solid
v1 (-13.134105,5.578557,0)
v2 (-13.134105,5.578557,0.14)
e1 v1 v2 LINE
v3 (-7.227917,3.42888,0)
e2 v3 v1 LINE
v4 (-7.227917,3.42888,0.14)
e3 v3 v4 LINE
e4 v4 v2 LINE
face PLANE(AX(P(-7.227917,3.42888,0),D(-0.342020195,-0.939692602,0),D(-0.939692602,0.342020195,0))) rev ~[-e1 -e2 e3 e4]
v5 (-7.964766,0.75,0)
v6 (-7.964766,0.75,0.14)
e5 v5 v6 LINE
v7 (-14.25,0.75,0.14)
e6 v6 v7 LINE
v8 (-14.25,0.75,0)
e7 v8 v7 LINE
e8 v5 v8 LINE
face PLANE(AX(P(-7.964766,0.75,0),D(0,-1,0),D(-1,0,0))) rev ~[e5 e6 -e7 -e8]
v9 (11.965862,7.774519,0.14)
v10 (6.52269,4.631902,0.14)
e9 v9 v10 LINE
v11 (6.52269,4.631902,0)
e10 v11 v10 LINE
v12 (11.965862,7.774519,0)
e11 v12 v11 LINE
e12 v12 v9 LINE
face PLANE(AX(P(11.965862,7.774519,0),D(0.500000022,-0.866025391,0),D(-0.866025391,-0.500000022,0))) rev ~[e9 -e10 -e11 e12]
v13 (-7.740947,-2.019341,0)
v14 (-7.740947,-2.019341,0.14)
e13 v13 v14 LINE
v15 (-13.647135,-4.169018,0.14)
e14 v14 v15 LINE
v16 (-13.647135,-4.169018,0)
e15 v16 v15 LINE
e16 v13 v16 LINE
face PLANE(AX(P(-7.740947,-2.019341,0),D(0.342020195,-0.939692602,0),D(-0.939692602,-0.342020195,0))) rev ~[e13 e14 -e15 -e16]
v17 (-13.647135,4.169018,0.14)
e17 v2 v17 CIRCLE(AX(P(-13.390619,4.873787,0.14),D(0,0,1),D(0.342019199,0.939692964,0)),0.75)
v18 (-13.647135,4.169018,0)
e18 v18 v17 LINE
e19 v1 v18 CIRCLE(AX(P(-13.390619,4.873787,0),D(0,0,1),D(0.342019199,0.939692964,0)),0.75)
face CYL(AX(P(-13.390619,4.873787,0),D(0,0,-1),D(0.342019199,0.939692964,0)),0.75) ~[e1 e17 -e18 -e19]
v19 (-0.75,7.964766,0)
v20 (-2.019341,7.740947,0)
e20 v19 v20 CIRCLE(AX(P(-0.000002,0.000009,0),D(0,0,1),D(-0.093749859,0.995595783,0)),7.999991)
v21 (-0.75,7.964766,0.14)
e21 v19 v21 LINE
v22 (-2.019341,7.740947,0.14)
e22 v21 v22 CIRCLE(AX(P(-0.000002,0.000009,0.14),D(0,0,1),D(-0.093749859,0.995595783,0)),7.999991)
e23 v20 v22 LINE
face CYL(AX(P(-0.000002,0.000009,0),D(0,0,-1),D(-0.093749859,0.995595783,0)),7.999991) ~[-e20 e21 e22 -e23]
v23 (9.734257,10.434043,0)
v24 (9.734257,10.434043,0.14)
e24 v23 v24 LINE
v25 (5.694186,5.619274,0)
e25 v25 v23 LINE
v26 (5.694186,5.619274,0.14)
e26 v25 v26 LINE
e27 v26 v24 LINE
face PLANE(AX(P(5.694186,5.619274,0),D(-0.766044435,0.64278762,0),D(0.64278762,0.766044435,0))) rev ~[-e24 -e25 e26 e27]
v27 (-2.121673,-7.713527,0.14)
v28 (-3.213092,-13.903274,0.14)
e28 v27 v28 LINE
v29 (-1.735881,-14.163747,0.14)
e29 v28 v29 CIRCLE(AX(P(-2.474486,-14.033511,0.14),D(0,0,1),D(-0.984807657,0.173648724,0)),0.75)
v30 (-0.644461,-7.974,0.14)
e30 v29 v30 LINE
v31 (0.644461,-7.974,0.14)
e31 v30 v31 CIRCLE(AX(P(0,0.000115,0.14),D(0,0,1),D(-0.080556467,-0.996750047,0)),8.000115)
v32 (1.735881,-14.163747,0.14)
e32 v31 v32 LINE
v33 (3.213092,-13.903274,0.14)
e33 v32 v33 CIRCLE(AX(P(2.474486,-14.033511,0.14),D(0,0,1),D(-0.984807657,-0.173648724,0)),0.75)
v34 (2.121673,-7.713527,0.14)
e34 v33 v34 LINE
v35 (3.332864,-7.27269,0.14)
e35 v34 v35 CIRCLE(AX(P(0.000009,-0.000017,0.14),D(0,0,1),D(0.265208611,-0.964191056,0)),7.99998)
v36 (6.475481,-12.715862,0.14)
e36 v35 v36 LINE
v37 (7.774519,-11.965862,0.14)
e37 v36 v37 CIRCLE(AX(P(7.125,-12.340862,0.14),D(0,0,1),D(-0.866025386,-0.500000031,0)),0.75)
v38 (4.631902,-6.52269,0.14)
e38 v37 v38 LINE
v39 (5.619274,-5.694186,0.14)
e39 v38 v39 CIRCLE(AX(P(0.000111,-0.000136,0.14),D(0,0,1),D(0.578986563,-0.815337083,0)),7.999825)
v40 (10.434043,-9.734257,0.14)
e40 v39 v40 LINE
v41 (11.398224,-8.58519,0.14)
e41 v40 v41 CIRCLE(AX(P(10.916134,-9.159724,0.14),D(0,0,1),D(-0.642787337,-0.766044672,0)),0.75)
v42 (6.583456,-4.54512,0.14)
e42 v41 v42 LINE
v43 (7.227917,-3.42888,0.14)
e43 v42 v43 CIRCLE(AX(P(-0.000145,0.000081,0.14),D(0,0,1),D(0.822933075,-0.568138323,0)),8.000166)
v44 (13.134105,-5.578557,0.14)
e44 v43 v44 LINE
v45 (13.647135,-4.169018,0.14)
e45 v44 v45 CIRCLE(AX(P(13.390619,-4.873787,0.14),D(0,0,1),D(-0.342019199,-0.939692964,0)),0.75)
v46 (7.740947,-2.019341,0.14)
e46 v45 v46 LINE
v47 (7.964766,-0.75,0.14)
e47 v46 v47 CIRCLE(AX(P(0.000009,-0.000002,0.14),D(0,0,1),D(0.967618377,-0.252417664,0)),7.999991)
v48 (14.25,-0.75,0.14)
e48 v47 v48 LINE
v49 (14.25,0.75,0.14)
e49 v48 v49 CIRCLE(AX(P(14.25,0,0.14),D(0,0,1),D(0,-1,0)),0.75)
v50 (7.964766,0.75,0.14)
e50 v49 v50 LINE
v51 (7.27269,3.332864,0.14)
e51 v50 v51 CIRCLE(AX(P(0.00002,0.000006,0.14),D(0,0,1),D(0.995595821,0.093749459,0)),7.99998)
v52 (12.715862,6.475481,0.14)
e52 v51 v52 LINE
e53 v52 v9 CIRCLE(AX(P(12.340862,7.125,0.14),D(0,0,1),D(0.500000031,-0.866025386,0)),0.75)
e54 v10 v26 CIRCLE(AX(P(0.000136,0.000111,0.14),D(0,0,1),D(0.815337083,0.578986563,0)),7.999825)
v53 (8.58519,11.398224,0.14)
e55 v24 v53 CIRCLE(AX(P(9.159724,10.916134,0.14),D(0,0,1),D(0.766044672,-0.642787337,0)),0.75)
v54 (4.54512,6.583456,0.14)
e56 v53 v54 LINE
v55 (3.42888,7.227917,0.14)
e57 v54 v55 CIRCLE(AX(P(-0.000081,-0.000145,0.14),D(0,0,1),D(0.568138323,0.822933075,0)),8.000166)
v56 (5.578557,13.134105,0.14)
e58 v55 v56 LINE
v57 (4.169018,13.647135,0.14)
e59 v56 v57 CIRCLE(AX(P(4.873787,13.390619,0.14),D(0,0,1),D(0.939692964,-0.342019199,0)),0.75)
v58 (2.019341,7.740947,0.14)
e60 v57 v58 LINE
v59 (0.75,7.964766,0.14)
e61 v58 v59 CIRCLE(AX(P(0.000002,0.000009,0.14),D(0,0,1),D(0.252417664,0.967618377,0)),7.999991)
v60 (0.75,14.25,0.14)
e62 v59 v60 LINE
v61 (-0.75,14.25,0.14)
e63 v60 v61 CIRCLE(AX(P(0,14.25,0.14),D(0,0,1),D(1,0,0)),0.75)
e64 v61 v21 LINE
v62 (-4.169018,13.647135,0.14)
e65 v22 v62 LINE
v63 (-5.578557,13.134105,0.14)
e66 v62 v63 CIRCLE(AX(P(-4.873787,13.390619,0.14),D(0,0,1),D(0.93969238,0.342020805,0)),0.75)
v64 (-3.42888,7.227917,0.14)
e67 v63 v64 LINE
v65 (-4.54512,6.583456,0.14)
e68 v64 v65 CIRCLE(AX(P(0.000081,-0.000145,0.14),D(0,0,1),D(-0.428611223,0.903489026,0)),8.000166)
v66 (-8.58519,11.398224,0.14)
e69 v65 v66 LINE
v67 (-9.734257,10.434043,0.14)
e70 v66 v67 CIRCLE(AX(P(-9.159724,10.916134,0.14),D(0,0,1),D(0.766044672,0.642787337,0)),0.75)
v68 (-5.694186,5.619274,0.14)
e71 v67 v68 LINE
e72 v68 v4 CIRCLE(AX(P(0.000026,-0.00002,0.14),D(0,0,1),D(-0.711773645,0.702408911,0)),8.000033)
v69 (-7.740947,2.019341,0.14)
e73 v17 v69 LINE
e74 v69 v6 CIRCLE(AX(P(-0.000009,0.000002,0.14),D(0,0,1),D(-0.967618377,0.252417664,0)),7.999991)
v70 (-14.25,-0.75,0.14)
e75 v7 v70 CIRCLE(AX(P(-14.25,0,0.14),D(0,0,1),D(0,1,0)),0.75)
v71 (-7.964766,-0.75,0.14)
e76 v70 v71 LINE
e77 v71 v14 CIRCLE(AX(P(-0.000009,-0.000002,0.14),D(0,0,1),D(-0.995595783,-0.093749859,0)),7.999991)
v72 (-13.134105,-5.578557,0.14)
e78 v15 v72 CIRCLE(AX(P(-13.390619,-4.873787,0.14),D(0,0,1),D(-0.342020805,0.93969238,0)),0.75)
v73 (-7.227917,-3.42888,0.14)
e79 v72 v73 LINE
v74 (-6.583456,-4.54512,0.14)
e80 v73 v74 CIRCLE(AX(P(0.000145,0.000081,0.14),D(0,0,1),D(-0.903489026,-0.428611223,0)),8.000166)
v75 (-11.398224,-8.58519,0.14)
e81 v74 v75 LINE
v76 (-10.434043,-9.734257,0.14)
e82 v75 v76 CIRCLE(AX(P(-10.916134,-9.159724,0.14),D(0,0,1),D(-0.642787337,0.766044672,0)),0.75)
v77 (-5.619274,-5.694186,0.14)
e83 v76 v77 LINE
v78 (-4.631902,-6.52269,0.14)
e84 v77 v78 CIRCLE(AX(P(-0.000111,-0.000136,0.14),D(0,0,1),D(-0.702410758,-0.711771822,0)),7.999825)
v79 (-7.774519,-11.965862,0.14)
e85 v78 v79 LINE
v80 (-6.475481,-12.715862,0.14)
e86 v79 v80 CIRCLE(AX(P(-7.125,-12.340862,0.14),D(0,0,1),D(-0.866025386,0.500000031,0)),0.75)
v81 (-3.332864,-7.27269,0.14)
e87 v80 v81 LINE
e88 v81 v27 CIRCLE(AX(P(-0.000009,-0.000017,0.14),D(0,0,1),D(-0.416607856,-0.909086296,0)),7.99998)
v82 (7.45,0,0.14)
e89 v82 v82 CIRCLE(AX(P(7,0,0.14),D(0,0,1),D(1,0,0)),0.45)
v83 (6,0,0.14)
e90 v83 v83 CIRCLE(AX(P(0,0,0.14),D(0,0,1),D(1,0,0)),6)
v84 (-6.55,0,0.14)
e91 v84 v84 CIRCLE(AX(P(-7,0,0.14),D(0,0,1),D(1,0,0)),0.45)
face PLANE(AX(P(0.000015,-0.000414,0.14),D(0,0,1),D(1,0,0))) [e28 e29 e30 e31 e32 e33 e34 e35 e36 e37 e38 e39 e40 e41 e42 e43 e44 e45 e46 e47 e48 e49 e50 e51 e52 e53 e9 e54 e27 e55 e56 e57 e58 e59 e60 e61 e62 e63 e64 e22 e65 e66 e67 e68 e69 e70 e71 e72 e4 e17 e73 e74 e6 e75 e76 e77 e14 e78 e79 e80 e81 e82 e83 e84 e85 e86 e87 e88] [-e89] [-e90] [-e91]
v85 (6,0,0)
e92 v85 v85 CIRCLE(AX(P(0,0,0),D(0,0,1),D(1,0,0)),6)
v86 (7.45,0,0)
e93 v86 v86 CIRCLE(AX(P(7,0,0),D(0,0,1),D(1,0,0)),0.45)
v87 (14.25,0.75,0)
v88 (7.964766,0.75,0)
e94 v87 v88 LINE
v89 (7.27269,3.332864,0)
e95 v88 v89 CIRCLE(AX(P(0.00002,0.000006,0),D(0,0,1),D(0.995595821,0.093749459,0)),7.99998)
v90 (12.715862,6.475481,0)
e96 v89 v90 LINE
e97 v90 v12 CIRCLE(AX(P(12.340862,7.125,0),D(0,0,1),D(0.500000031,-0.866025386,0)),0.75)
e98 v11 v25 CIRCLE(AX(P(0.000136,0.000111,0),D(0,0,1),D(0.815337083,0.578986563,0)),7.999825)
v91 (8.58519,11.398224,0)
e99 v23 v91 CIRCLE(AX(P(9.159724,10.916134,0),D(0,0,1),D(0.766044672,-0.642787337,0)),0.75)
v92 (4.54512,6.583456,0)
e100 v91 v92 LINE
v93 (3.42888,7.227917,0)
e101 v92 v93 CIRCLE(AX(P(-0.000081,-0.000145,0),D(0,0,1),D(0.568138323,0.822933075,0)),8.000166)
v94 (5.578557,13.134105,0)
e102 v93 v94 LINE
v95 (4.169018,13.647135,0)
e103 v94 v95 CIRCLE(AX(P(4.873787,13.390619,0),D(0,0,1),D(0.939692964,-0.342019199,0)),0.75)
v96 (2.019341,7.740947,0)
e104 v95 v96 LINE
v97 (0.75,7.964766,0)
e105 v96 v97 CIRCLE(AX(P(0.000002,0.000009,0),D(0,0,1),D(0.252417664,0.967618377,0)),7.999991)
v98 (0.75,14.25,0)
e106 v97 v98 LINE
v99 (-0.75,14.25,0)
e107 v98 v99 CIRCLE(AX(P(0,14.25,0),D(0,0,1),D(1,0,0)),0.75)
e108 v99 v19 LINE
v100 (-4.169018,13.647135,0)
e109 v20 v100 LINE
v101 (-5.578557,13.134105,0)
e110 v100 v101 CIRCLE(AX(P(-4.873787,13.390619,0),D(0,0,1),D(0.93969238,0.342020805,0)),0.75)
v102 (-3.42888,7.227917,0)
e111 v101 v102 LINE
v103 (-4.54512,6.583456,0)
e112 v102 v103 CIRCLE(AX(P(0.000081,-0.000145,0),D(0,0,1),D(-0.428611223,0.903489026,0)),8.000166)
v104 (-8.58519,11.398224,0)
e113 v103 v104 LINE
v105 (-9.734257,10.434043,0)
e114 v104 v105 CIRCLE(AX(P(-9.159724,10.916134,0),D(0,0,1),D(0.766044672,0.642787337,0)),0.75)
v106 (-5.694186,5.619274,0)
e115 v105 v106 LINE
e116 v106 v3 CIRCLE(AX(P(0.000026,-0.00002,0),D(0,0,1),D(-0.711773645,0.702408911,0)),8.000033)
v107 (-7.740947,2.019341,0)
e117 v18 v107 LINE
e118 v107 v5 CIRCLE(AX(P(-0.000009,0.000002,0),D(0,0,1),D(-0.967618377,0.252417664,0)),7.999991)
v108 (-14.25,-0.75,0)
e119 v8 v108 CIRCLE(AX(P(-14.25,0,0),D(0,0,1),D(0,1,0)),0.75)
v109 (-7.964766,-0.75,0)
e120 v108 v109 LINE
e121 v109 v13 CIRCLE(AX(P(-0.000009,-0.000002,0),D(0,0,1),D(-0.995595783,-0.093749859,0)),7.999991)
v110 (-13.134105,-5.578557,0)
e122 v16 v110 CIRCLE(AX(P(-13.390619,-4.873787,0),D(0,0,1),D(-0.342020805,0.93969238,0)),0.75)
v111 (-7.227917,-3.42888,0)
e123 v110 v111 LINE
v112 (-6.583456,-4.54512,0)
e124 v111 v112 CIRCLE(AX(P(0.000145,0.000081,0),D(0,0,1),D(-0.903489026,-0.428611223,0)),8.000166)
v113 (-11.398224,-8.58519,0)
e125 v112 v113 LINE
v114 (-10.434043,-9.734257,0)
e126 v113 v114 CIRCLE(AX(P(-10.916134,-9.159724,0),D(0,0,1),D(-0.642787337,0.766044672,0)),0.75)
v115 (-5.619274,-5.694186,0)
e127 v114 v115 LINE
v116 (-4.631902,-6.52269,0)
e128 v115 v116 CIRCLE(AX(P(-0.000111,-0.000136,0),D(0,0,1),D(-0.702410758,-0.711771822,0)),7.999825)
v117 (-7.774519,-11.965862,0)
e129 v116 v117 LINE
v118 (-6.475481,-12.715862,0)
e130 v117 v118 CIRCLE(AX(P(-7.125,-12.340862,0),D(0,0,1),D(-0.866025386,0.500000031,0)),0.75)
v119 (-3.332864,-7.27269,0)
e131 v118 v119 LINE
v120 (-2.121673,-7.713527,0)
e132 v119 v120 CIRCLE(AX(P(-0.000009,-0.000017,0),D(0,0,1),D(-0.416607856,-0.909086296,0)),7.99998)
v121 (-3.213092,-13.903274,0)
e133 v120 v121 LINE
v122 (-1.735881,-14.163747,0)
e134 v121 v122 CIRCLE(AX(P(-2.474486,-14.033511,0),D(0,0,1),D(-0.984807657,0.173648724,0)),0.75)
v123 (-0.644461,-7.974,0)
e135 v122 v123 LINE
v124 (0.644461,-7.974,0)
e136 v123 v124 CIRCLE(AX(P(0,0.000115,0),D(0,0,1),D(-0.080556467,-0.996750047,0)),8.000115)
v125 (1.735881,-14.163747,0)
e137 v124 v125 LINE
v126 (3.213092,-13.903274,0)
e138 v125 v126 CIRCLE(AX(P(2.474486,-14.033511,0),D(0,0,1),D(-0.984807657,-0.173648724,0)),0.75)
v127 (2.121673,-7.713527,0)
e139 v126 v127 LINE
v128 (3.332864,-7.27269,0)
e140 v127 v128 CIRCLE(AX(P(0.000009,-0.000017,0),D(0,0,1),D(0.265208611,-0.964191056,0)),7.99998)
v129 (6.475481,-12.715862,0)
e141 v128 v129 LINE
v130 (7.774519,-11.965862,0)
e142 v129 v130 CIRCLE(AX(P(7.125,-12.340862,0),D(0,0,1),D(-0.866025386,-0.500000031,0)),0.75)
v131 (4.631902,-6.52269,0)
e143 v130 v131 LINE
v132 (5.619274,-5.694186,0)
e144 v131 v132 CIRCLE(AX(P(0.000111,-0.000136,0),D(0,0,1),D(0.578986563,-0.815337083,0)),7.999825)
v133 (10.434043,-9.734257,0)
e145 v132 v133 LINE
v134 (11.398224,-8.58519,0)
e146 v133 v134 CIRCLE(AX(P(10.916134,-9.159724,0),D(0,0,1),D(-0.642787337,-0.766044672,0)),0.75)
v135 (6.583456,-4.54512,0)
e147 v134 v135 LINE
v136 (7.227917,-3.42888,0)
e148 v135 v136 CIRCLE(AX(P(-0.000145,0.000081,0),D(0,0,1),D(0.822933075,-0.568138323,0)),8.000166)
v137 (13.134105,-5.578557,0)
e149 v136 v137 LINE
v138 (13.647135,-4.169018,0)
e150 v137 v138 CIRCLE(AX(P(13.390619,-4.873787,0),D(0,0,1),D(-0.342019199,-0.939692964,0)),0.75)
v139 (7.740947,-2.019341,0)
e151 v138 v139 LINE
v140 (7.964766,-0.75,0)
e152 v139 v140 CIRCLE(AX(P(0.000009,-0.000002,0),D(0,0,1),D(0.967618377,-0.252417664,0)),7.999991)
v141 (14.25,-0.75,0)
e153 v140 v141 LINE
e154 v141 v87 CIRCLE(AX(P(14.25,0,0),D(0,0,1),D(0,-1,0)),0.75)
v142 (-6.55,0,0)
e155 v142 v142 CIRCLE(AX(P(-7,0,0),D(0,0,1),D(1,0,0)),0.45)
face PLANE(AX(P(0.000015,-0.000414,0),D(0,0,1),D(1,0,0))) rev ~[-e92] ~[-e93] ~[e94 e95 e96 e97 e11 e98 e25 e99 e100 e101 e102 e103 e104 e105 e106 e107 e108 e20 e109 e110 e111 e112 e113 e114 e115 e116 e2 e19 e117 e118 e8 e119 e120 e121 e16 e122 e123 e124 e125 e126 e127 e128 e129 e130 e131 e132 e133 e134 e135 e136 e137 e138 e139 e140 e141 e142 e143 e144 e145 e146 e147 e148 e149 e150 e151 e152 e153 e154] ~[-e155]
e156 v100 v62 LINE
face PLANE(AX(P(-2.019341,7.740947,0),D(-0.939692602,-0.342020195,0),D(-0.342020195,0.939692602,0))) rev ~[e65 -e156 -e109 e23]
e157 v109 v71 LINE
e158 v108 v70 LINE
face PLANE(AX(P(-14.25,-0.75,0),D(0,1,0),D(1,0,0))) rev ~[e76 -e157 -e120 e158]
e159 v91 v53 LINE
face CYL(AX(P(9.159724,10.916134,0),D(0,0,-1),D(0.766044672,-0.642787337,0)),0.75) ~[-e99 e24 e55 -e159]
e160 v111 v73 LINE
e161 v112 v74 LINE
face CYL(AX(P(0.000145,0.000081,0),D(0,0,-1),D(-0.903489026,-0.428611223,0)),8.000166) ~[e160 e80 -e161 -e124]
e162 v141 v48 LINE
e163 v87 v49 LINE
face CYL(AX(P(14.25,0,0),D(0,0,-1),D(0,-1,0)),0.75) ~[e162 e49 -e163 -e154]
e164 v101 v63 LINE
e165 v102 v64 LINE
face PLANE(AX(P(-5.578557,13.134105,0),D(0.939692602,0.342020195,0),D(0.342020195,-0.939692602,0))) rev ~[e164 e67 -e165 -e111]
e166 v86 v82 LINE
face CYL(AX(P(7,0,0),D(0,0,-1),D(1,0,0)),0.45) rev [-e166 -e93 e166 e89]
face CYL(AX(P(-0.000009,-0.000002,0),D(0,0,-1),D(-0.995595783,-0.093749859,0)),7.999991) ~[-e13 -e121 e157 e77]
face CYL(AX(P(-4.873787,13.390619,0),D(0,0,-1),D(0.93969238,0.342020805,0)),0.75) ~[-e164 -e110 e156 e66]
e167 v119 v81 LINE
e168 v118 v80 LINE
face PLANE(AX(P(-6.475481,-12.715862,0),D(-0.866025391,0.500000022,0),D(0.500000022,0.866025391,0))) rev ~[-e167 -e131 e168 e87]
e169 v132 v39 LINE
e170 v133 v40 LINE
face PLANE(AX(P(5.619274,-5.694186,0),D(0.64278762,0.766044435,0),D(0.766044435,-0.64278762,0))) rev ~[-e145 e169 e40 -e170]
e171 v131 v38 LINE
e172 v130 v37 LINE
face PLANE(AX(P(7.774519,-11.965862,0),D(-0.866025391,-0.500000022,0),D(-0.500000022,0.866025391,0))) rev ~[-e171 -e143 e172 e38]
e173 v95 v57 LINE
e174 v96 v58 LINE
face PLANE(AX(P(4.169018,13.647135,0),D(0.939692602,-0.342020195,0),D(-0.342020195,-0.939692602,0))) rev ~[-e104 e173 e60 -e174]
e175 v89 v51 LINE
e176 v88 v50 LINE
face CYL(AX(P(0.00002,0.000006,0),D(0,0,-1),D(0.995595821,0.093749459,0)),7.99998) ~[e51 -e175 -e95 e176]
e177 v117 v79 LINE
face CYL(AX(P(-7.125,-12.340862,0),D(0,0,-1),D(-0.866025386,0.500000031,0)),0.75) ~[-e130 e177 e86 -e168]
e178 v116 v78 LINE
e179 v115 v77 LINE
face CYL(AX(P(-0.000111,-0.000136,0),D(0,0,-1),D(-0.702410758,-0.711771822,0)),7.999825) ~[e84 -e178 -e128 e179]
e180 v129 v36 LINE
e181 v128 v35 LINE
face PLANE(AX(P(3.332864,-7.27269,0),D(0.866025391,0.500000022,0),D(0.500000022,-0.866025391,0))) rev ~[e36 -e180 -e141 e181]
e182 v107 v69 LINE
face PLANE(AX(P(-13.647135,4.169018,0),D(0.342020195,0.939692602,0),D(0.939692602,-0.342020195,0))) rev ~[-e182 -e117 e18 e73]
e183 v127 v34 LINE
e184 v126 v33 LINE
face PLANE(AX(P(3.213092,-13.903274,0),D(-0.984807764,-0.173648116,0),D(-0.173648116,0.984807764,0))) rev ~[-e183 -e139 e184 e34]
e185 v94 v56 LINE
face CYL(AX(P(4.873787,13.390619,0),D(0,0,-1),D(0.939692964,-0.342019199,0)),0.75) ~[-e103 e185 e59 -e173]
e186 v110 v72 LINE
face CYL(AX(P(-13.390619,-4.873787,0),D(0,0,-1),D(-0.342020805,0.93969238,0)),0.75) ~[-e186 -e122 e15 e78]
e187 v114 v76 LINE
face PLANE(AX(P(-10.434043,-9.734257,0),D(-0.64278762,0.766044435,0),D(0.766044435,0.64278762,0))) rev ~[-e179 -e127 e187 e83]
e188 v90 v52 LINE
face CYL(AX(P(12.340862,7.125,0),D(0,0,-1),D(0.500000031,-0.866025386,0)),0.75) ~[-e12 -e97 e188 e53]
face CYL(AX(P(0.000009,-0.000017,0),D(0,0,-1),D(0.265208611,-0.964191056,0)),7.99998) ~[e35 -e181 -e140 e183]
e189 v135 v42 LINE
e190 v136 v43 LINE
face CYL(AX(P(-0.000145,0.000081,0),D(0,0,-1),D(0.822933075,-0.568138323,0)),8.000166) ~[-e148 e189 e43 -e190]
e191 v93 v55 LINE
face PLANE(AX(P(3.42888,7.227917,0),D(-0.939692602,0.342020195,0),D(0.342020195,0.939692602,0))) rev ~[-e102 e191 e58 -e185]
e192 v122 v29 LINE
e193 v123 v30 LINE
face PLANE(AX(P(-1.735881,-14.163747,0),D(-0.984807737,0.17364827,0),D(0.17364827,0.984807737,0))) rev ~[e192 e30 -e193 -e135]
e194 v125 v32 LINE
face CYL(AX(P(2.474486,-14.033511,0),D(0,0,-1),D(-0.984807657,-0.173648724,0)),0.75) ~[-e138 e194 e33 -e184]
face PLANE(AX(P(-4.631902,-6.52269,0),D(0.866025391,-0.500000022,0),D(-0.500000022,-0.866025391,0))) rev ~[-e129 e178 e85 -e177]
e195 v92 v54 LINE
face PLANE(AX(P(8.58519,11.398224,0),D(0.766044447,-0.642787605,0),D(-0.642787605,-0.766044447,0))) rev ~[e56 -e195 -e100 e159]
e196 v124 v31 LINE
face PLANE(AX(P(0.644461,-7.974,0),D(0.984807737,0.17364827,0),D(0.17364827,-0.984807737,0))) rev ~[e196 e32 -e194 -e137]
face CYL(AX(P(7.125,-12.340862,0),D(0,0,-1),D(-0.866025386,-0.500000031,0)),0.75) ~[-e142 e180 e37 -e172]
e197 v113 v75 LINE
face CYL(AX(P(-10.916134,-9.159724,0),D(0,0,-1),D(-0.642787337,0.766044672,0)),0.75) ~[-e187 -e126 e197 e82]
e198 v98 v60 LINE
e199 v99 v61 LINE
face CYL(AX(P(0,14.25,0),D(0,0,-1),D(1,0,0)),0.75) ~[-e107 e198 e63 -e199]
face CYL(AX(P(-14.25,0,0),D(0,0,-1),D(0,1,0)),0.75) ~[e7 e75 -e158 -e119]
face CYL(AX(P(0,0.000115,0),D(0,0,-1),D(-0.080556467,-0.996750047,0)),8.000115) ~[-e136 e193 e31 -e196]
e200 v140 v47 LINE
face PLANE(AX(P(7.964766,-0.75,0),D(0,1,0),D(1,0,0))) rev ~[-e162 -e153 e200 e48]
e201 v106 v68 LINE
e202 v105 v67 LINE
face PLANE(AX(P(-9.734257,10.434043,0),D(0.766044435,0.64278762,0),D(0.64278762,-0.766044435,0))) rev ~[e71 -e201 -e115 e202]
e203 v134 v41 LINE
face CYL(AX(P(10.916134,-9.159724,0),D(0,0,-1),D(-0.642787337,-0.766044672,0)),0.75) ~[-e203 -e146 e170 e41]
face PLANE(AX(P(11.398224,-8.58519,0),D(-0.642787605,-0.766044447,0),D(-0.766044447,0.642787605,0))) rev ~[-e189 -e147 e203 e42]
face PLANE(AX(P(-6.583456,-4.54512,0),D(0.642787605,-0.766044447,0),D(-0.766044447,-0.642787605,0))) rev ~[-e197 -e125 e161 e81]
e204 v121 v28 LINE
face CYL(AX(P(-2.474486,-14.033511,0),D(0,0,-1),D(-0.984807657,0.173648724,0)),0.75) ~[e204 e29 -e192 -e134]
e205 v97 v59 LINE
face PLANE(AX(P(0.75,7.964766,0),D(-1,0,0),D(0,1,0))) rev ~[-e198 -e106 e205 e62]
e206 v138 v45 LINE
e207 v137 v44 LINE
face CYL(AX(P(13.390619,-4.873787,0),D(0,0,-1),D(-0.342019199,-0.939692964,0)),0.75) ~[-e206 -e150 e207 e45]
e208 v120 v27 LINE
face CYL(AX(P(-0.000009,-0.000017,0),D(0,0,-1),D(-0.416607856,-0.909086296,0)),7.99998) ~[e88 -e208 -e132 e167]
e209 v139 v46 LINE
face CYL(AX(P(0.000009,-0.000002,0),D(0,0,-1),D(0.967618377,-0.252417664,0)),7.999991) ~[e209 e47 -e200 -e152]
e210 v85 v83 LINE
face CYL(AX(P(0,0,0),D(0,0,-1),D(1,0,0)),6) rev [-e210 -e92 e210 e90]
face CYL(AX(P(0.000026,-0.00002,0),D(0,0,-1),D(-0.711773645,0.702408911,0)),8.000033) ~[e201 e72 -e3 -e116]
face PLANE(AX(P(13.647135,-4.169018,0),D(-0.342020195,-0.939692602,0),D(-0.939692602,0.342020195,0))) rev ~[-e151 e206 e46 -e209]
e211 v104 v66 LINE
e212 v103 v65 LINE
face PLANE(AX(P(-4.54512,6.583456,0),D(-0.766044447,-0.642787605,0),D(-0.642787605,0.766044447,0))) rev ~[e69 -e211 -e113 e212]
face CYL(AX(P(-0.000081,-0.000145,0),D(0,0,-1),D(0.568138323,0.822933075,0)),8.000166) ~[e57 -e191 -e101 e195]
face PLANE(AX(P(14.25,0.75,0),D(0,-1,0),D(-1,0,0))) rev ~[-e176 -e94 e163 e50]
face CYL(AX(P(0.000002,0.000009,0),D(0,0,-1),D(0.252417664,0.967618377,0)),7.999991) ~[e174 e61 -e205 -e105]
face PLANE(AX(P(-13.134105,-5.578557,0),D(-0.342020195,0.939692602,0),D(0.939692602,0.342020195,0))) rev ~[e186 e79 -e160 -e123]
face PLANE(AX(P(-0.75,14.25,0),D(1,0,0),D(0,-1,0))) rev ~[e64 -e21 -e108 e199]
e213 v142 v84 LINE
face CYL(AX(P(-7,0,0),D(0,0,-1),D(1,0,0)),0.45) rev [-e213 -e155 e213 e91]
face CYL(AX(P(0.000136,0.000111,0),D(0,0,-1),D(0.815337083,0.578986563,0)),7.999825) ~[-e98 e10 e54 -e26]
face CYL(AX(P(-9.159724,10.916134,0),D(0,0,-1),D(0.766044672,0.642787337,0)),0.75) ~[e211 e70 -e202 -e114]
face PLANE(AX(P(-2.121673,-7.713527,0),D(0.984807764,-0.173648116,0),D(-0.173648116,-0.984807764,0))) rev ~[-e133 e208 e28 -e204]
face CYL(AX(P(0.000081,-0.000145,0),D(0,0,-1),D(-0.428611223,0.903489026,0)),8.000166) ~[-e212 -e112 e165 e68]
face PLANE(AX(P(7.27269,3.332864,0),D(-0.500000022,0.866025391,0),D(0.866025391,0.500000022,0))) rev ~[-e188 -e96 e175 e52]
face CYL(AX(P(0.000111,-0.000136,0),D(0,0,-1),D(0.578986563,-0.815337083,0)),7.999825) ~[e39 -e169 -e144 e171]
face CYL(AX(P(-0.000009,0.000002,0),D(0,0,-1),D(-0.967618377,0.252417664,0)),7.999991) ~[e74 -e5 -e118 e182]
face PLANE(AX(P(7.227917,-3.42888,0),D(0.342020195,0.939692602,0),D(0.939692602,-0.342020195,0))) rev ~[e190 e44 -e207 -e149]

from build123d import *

# Parameters (mm, degrees)
F0_R     = 0.45
F0_R_2   = 6
F1_DEPTH = 0.14


with BuildPart() as f1:
    # F0 (on Top) → F1 (new body)
    with BuildSketch(Plane.XY):
        with BuildLine():
            ThreePointArc((7.964766, -0.75), (7.991187, -0.375414), (8, 0))
            ThreePointArc((8, 0), (7.991187, 0.375414), (7.964766, 0.75))
            ThreePointArc((7.964766, 0.75), (7.727407, 2.070552), (7.27269, 3.332864))
            ThreePointArc((7.27269, 3.332864), (6.928203, 4), (6.52269, 4.631902))
            ThreePointArc((6.52269, 4.631902), (6.128356, 5.142301), (5.694186, 5.619274))
            ThreePointArc((5.694186, 5.619274), (5.142301, 6.128356), (4.54512, 6.583456))
            ThreePointArc((4.54512, 6.583456), (4, 6.928203), (3.42888, 7.227917))
            ThreePointArc((3.42888, 7.227917), (2.736161, 7.517541), (2.019341, 7.740947))
            ThreePointArc((2.019341, 7.740947), (1.389185, 7.878462), (0.75, 7.964766))
            ThreePointArc((0.75, 7.964766), (0, 8), (-0.75, 7.964766))
            ThreePointArc((-0.75, 7.964766), (-1.389185, 7.878462), (-2.019341, 7.740947))
            ThreePointArc((-2.019341, 7.740947), (-2.736161, 7.517541), (-3.42888, 7.227917))
            ThreePointArc((-3.42888, 7.227917), (-4, 6.928203), (-4.54512, 6.583456))
            ThreePointArc((-4.54512, 6.583456), (-5.142301, 6.128356), (-5.694186, 5.619274))
            ThreePointArc((-5.694186, 5.619274), (-6.553216, 4.588611), (-7.227917, 3.42888))
            ThreePointArc((-7.227917, 3.42888), (-7.517541, 2.736161), (-7.740947, 2.019341))
            ThreePointArc((-7.740947, 2.019341), (-7.878462, 1.389185), (-7.964766, 0.75))
            ThreePointArc((-7.964766, 0.75), (-8, 0), (-7.964766, -0.75))
            ThreePointArc((-7.964766, -0.75), (-7.878462, -1.389185), (-7.740947, -2.019341))
            ThreePointArc((-7.740947, -2.019341), (-7.517541, -2.736161), (-7.227917, -3.42888))
            ThreePointArc((-7.227917, -3.42888), (-6.928203, -4), (-6.583456, -4.54512))
            ThreePointArc((-6.583456, -4.54512), (-6.128356, -5.142301), (-5.619274, -5.694186))
            ThreePointArc((-5.619274, -5.694186), (-5.142301, -6.128356), (-4.631902, -6.52269))
            ThreePointArc((-4.631902, -6.52269), (-4, -6.928203), (-3.332864, -7.27269))
            ThreePointArc((-3.332864, -7.27269), (-2.736161, -7.517541), (-2.121673, -7.713527))
            ThreePointArc((-2.121673, -7.713527), (-1.389185, -7.878462), (-0.644461, -7.974))
            ThreePointArc((-0.644461, -7.974), (0, -8), (0.644461, -7.974))
            ThreePointArc((0.644461, -7.974), (1.389185, -7.878462), (2.121673, -7.713527))
            ThreePointArc((2.121673, -7.713527), (2.736161, -7.517541), (3.332864, -7.27269))
            ThreePointArc((3.332864, -7.27269), (4, -6.928203), (4.631902, -6.52269))
            ThreePointArc((4.631902, -6.52269), (5.142301, -6.128356), (5.619274, -5.694186))
            ThreePointArc((5.619274, -5.694186), (6.128356, -5.142301), (6.583456, -4.54512))
            ThreePointArc((6.583456, -4.54512), (6.928203, -4), (7.227917, -3.42888))
            ThreePointArc((7.227917, -3.42888), (7.517541, -2.736161), (7.740947, -2.019341))
            ThreePointArc((7.740947, -2.019341), (7.878462, -1.389185), (7.964766, -0.75))
        make_face()
        with Locations((-7, 0)):
            Circle(F0_R, mode=Mode.SUBTRACT)
        Circle(F0_R_2, mode=Mode.SUBTRACT)
        with Locations((7, 0)):
            Circle(F0_R, mode=Mode.SUBTRACT)
        with BuildLine():
            ThreePointArc((7.964766, 0.75), (7.991187, 0.375414), (8, 0))
            ThreePointArc((8, 0), (7.991187, -0.375414), (7.964766, -0.75))
            Line((7.964766, -0.75), (14.25, -0.75))
            ThreePointArc((14.25, -0.75), (15, 0), (14.25, 0.75))
            Line((14.25, 0.75), (7.964766, 0.75))
        make_face()
        with BuildLine():
            ThreePointArc((6.52269, 4.631902), (6.928203, 4), (7.27269, 3.332864))
            Line((7.27269, 3.332864), (12.715862, 6.475481))
            ThreePointArc((12.715862, 6.475481), (12.990381, 7.5), (11.965862, 7.774519))
            Line((11.965862, 7.774519), (6.52269, 4.631902))
        make_face()
        with BuildLine():
            Line((13.647135, -4.169018), (7.740947, -2.019341))
            ThreePointArc((7.740947, -2.019341), (7.517541, -2.736161), (7.227917, -3.42888))
            Line((7.227917, -3.42888), (13.134105, -5.578557))
            ThreePointArc((13.134105, -5.578557), (14.095389, -5.130302), (13.647135, -4.169018))
        make_face()
        with BuildLine():
            ThreePointArc((4.54512, 6.583456), (5.142301, 6.128356), (5.694186, 5.619274))
            Line((5.694186, 5.619274), (9.734257, 10.434043))
            ThreePointArc((9.734257, 10.434043), (9.641814, 11.490667), (8.58519, 11.398224))
            Line((8.58519, 11.398224), (4.54512, 6.583456))
        make_face()
        with BuildLine():
            Line((11.398224, -8.58519), (6.583456, -4.54512))
            ThreePointArc((6.583456, -4.54512), (6.128356, -5.142301), (5.619274, -5.694186))
            Line((5.619274, -5.694186), (10.434043, -9.734257))
            ThreePointArc((10.434043, -9.734257), (11.490667, -9.641814), (11.398224, -8.58519))
        make_face()
        with BuildLine():
            ThreePointArc((2.019341, 7.740947), (2.736161, 7.517541), (3.42888, 7.227917))
            Line((3.42888, 7.227917), (5.578557, 13.134105))
            ThreePointArc((5.578557, 13.134105), (5.130302, 14.095389), (4.169018, 13.647135))
            Line((4.169018, 13.647135), (2.019341, 7.740947))
        make_face()
        with BuildLine():
            Line((7.774519, -11.965862), (4.631902, -6.52269))
            ThreePointArc((4.631902, -6.52269), (4, -6.928203), (3.332864, -7.27269))
            Line((3.332864, -7.27269), (6.475481, -12.715862))
            ThreePointArc((6.475481, -12.715862), (7.5, -12.990381), (7.774519, -11.965862))
        make_face()
        with BuildLine():
            ThreePointArc((-0.75, 7.964766), (0, 8), (0.75, 7.964766))
            Line((0.75, 7.964766), (0.75, 14.25))
            ThreePointArc((0.75, 14.25), (0, 15), (-0.75, 14.25))
            Line((-0.75, 14.25), (-0.75, 7.964766))
        make_face()
        with BuildLine():
            Line((3.213092, -13.903274), (2.121673, -7.713527))
            ThreePointArc((2.121673, -7.713527), (1.389185, -7.878462), (0.644461, -7.974))
            Line((0.644461, -7.974), (1.735881, -14.163747))
            ThreePointArc((1.735881, -14.163747), (2.604723, -14.772116), (3.213092, -13.903274))
        make_face()
        with BuildLine():
            ThreePointArc((-3.42888, 7.227917), (-2.736161, 7.517541), (-2.019341, 7.740947))
            Line((-2.019341, 7.740947), (-4.169018, 13.647135))
            ThreePointArc((-4.169018, 13.647135), (-5.130302, 14.095389), (-5.578557, 13.134105))
            Line((-5.578557, 13.134105), (-3.42888, 7.227917))
        make_face()
        with BuildLine():
            Line((-1.735881, -14.163747), (-0.644461, -7.974))
            ThreePointArc((-0.644461, -7.974), (-1.389185, -7.878462), (-2.121673, -7.713527))
            Line((-2.121673, -7.713527), (-3.213092, -13.903274))
            ThreePointArc((-3.213092, -13.903274), (-2.604723, -14.772116), (-1.735881, -14.163747))
        make_face()
        with BuildLine():
            ThreePointArc((-5.694186, 5.619274), (-5.142301, 6.128356), (-4.54512, 6.583456))
            Line((-4.54512, 6.583456), (-8.58519, 11.398224))
            ThreePointArc((-8.58519, 11.398224), (-9.641814, 11.490667), (-9.734257, 10.434043))
            Line((-9.734257, 10.434043), (-5.694186, 5.619274))
        make_face()
        with BuildLine():
            Line((-6.475481, -12.715862), (-3.332864, -7.27269))
            ThreePointArc((-3.332864, -7.27269), (-4, -6.928203), (-4.631902, -6.52269))
            Line((-4.631902, -6.52269), (-7.774519, -11.965862))
            ThreePointArc((-7.774519, -11.965862), (-7.5, -12.990381), (-6.475481, -12.715862))
        make_face()
        with BuildLine():
            ThreePointArc((-7.740947, 2.019341), (-7.517541, 2.736161), (-7.227917, 3.42888))
            Line((-7.227917, 3.42888), (-13.134105, 5.578557))
            ThreePointArc((-13.134105, 5.578557), (-14.095389, 5.130302), (-13.647135, 4.169018))
            Line((-13.647135, 4.169018), (-7.740947, 2.019341))
        make_face()
        with BuildLine():
            Line((-10.434043, -9.734257), (-5.619274, -5.694186))
            ThreePointArc((-5.619274, -5.694186), (-6.128356, -5.142301), (-6.583456, -4.54512))
            Line((-6.583456, -4.54512), (-11.398224, -8.58519))
            ThreePointArc((-11.398224, -8.58519), (-11.490667, -9.641814), (-10.434043, -9.734257))
        make_face()
        with BuildLine():
            ThreePointArc((-7.964766, -0.75), (-8, 0), (-7.964766, 0.75))
            Line((-7.964766, 0.75), (-14.25, 0.75))
            ThreePointArc((-14.25, 0.75), (-15, 0), (-14.25, -0.75))
            Line((-14.25, -0.75), (-7.964766, -0.75))
        make_face()
        with BuildLine():
            Line((-13.134105, -5.578557), (-7.227917, -3.42888))
            ThreePointArc((-7.227917, -3.42888), (-7.517541, -2.736161), (-7.740947, -2.019341))
            Line((-7.740947, -2.019341), (-13.647135, -4.169018))
            ThreePointArc((-13.647135, -4.169018), (-14.095389, -5.130302), (-13.134105, -5.578557))
        make_face()
    extrude(amount=F1_DEPTH)


solid = f1.part
